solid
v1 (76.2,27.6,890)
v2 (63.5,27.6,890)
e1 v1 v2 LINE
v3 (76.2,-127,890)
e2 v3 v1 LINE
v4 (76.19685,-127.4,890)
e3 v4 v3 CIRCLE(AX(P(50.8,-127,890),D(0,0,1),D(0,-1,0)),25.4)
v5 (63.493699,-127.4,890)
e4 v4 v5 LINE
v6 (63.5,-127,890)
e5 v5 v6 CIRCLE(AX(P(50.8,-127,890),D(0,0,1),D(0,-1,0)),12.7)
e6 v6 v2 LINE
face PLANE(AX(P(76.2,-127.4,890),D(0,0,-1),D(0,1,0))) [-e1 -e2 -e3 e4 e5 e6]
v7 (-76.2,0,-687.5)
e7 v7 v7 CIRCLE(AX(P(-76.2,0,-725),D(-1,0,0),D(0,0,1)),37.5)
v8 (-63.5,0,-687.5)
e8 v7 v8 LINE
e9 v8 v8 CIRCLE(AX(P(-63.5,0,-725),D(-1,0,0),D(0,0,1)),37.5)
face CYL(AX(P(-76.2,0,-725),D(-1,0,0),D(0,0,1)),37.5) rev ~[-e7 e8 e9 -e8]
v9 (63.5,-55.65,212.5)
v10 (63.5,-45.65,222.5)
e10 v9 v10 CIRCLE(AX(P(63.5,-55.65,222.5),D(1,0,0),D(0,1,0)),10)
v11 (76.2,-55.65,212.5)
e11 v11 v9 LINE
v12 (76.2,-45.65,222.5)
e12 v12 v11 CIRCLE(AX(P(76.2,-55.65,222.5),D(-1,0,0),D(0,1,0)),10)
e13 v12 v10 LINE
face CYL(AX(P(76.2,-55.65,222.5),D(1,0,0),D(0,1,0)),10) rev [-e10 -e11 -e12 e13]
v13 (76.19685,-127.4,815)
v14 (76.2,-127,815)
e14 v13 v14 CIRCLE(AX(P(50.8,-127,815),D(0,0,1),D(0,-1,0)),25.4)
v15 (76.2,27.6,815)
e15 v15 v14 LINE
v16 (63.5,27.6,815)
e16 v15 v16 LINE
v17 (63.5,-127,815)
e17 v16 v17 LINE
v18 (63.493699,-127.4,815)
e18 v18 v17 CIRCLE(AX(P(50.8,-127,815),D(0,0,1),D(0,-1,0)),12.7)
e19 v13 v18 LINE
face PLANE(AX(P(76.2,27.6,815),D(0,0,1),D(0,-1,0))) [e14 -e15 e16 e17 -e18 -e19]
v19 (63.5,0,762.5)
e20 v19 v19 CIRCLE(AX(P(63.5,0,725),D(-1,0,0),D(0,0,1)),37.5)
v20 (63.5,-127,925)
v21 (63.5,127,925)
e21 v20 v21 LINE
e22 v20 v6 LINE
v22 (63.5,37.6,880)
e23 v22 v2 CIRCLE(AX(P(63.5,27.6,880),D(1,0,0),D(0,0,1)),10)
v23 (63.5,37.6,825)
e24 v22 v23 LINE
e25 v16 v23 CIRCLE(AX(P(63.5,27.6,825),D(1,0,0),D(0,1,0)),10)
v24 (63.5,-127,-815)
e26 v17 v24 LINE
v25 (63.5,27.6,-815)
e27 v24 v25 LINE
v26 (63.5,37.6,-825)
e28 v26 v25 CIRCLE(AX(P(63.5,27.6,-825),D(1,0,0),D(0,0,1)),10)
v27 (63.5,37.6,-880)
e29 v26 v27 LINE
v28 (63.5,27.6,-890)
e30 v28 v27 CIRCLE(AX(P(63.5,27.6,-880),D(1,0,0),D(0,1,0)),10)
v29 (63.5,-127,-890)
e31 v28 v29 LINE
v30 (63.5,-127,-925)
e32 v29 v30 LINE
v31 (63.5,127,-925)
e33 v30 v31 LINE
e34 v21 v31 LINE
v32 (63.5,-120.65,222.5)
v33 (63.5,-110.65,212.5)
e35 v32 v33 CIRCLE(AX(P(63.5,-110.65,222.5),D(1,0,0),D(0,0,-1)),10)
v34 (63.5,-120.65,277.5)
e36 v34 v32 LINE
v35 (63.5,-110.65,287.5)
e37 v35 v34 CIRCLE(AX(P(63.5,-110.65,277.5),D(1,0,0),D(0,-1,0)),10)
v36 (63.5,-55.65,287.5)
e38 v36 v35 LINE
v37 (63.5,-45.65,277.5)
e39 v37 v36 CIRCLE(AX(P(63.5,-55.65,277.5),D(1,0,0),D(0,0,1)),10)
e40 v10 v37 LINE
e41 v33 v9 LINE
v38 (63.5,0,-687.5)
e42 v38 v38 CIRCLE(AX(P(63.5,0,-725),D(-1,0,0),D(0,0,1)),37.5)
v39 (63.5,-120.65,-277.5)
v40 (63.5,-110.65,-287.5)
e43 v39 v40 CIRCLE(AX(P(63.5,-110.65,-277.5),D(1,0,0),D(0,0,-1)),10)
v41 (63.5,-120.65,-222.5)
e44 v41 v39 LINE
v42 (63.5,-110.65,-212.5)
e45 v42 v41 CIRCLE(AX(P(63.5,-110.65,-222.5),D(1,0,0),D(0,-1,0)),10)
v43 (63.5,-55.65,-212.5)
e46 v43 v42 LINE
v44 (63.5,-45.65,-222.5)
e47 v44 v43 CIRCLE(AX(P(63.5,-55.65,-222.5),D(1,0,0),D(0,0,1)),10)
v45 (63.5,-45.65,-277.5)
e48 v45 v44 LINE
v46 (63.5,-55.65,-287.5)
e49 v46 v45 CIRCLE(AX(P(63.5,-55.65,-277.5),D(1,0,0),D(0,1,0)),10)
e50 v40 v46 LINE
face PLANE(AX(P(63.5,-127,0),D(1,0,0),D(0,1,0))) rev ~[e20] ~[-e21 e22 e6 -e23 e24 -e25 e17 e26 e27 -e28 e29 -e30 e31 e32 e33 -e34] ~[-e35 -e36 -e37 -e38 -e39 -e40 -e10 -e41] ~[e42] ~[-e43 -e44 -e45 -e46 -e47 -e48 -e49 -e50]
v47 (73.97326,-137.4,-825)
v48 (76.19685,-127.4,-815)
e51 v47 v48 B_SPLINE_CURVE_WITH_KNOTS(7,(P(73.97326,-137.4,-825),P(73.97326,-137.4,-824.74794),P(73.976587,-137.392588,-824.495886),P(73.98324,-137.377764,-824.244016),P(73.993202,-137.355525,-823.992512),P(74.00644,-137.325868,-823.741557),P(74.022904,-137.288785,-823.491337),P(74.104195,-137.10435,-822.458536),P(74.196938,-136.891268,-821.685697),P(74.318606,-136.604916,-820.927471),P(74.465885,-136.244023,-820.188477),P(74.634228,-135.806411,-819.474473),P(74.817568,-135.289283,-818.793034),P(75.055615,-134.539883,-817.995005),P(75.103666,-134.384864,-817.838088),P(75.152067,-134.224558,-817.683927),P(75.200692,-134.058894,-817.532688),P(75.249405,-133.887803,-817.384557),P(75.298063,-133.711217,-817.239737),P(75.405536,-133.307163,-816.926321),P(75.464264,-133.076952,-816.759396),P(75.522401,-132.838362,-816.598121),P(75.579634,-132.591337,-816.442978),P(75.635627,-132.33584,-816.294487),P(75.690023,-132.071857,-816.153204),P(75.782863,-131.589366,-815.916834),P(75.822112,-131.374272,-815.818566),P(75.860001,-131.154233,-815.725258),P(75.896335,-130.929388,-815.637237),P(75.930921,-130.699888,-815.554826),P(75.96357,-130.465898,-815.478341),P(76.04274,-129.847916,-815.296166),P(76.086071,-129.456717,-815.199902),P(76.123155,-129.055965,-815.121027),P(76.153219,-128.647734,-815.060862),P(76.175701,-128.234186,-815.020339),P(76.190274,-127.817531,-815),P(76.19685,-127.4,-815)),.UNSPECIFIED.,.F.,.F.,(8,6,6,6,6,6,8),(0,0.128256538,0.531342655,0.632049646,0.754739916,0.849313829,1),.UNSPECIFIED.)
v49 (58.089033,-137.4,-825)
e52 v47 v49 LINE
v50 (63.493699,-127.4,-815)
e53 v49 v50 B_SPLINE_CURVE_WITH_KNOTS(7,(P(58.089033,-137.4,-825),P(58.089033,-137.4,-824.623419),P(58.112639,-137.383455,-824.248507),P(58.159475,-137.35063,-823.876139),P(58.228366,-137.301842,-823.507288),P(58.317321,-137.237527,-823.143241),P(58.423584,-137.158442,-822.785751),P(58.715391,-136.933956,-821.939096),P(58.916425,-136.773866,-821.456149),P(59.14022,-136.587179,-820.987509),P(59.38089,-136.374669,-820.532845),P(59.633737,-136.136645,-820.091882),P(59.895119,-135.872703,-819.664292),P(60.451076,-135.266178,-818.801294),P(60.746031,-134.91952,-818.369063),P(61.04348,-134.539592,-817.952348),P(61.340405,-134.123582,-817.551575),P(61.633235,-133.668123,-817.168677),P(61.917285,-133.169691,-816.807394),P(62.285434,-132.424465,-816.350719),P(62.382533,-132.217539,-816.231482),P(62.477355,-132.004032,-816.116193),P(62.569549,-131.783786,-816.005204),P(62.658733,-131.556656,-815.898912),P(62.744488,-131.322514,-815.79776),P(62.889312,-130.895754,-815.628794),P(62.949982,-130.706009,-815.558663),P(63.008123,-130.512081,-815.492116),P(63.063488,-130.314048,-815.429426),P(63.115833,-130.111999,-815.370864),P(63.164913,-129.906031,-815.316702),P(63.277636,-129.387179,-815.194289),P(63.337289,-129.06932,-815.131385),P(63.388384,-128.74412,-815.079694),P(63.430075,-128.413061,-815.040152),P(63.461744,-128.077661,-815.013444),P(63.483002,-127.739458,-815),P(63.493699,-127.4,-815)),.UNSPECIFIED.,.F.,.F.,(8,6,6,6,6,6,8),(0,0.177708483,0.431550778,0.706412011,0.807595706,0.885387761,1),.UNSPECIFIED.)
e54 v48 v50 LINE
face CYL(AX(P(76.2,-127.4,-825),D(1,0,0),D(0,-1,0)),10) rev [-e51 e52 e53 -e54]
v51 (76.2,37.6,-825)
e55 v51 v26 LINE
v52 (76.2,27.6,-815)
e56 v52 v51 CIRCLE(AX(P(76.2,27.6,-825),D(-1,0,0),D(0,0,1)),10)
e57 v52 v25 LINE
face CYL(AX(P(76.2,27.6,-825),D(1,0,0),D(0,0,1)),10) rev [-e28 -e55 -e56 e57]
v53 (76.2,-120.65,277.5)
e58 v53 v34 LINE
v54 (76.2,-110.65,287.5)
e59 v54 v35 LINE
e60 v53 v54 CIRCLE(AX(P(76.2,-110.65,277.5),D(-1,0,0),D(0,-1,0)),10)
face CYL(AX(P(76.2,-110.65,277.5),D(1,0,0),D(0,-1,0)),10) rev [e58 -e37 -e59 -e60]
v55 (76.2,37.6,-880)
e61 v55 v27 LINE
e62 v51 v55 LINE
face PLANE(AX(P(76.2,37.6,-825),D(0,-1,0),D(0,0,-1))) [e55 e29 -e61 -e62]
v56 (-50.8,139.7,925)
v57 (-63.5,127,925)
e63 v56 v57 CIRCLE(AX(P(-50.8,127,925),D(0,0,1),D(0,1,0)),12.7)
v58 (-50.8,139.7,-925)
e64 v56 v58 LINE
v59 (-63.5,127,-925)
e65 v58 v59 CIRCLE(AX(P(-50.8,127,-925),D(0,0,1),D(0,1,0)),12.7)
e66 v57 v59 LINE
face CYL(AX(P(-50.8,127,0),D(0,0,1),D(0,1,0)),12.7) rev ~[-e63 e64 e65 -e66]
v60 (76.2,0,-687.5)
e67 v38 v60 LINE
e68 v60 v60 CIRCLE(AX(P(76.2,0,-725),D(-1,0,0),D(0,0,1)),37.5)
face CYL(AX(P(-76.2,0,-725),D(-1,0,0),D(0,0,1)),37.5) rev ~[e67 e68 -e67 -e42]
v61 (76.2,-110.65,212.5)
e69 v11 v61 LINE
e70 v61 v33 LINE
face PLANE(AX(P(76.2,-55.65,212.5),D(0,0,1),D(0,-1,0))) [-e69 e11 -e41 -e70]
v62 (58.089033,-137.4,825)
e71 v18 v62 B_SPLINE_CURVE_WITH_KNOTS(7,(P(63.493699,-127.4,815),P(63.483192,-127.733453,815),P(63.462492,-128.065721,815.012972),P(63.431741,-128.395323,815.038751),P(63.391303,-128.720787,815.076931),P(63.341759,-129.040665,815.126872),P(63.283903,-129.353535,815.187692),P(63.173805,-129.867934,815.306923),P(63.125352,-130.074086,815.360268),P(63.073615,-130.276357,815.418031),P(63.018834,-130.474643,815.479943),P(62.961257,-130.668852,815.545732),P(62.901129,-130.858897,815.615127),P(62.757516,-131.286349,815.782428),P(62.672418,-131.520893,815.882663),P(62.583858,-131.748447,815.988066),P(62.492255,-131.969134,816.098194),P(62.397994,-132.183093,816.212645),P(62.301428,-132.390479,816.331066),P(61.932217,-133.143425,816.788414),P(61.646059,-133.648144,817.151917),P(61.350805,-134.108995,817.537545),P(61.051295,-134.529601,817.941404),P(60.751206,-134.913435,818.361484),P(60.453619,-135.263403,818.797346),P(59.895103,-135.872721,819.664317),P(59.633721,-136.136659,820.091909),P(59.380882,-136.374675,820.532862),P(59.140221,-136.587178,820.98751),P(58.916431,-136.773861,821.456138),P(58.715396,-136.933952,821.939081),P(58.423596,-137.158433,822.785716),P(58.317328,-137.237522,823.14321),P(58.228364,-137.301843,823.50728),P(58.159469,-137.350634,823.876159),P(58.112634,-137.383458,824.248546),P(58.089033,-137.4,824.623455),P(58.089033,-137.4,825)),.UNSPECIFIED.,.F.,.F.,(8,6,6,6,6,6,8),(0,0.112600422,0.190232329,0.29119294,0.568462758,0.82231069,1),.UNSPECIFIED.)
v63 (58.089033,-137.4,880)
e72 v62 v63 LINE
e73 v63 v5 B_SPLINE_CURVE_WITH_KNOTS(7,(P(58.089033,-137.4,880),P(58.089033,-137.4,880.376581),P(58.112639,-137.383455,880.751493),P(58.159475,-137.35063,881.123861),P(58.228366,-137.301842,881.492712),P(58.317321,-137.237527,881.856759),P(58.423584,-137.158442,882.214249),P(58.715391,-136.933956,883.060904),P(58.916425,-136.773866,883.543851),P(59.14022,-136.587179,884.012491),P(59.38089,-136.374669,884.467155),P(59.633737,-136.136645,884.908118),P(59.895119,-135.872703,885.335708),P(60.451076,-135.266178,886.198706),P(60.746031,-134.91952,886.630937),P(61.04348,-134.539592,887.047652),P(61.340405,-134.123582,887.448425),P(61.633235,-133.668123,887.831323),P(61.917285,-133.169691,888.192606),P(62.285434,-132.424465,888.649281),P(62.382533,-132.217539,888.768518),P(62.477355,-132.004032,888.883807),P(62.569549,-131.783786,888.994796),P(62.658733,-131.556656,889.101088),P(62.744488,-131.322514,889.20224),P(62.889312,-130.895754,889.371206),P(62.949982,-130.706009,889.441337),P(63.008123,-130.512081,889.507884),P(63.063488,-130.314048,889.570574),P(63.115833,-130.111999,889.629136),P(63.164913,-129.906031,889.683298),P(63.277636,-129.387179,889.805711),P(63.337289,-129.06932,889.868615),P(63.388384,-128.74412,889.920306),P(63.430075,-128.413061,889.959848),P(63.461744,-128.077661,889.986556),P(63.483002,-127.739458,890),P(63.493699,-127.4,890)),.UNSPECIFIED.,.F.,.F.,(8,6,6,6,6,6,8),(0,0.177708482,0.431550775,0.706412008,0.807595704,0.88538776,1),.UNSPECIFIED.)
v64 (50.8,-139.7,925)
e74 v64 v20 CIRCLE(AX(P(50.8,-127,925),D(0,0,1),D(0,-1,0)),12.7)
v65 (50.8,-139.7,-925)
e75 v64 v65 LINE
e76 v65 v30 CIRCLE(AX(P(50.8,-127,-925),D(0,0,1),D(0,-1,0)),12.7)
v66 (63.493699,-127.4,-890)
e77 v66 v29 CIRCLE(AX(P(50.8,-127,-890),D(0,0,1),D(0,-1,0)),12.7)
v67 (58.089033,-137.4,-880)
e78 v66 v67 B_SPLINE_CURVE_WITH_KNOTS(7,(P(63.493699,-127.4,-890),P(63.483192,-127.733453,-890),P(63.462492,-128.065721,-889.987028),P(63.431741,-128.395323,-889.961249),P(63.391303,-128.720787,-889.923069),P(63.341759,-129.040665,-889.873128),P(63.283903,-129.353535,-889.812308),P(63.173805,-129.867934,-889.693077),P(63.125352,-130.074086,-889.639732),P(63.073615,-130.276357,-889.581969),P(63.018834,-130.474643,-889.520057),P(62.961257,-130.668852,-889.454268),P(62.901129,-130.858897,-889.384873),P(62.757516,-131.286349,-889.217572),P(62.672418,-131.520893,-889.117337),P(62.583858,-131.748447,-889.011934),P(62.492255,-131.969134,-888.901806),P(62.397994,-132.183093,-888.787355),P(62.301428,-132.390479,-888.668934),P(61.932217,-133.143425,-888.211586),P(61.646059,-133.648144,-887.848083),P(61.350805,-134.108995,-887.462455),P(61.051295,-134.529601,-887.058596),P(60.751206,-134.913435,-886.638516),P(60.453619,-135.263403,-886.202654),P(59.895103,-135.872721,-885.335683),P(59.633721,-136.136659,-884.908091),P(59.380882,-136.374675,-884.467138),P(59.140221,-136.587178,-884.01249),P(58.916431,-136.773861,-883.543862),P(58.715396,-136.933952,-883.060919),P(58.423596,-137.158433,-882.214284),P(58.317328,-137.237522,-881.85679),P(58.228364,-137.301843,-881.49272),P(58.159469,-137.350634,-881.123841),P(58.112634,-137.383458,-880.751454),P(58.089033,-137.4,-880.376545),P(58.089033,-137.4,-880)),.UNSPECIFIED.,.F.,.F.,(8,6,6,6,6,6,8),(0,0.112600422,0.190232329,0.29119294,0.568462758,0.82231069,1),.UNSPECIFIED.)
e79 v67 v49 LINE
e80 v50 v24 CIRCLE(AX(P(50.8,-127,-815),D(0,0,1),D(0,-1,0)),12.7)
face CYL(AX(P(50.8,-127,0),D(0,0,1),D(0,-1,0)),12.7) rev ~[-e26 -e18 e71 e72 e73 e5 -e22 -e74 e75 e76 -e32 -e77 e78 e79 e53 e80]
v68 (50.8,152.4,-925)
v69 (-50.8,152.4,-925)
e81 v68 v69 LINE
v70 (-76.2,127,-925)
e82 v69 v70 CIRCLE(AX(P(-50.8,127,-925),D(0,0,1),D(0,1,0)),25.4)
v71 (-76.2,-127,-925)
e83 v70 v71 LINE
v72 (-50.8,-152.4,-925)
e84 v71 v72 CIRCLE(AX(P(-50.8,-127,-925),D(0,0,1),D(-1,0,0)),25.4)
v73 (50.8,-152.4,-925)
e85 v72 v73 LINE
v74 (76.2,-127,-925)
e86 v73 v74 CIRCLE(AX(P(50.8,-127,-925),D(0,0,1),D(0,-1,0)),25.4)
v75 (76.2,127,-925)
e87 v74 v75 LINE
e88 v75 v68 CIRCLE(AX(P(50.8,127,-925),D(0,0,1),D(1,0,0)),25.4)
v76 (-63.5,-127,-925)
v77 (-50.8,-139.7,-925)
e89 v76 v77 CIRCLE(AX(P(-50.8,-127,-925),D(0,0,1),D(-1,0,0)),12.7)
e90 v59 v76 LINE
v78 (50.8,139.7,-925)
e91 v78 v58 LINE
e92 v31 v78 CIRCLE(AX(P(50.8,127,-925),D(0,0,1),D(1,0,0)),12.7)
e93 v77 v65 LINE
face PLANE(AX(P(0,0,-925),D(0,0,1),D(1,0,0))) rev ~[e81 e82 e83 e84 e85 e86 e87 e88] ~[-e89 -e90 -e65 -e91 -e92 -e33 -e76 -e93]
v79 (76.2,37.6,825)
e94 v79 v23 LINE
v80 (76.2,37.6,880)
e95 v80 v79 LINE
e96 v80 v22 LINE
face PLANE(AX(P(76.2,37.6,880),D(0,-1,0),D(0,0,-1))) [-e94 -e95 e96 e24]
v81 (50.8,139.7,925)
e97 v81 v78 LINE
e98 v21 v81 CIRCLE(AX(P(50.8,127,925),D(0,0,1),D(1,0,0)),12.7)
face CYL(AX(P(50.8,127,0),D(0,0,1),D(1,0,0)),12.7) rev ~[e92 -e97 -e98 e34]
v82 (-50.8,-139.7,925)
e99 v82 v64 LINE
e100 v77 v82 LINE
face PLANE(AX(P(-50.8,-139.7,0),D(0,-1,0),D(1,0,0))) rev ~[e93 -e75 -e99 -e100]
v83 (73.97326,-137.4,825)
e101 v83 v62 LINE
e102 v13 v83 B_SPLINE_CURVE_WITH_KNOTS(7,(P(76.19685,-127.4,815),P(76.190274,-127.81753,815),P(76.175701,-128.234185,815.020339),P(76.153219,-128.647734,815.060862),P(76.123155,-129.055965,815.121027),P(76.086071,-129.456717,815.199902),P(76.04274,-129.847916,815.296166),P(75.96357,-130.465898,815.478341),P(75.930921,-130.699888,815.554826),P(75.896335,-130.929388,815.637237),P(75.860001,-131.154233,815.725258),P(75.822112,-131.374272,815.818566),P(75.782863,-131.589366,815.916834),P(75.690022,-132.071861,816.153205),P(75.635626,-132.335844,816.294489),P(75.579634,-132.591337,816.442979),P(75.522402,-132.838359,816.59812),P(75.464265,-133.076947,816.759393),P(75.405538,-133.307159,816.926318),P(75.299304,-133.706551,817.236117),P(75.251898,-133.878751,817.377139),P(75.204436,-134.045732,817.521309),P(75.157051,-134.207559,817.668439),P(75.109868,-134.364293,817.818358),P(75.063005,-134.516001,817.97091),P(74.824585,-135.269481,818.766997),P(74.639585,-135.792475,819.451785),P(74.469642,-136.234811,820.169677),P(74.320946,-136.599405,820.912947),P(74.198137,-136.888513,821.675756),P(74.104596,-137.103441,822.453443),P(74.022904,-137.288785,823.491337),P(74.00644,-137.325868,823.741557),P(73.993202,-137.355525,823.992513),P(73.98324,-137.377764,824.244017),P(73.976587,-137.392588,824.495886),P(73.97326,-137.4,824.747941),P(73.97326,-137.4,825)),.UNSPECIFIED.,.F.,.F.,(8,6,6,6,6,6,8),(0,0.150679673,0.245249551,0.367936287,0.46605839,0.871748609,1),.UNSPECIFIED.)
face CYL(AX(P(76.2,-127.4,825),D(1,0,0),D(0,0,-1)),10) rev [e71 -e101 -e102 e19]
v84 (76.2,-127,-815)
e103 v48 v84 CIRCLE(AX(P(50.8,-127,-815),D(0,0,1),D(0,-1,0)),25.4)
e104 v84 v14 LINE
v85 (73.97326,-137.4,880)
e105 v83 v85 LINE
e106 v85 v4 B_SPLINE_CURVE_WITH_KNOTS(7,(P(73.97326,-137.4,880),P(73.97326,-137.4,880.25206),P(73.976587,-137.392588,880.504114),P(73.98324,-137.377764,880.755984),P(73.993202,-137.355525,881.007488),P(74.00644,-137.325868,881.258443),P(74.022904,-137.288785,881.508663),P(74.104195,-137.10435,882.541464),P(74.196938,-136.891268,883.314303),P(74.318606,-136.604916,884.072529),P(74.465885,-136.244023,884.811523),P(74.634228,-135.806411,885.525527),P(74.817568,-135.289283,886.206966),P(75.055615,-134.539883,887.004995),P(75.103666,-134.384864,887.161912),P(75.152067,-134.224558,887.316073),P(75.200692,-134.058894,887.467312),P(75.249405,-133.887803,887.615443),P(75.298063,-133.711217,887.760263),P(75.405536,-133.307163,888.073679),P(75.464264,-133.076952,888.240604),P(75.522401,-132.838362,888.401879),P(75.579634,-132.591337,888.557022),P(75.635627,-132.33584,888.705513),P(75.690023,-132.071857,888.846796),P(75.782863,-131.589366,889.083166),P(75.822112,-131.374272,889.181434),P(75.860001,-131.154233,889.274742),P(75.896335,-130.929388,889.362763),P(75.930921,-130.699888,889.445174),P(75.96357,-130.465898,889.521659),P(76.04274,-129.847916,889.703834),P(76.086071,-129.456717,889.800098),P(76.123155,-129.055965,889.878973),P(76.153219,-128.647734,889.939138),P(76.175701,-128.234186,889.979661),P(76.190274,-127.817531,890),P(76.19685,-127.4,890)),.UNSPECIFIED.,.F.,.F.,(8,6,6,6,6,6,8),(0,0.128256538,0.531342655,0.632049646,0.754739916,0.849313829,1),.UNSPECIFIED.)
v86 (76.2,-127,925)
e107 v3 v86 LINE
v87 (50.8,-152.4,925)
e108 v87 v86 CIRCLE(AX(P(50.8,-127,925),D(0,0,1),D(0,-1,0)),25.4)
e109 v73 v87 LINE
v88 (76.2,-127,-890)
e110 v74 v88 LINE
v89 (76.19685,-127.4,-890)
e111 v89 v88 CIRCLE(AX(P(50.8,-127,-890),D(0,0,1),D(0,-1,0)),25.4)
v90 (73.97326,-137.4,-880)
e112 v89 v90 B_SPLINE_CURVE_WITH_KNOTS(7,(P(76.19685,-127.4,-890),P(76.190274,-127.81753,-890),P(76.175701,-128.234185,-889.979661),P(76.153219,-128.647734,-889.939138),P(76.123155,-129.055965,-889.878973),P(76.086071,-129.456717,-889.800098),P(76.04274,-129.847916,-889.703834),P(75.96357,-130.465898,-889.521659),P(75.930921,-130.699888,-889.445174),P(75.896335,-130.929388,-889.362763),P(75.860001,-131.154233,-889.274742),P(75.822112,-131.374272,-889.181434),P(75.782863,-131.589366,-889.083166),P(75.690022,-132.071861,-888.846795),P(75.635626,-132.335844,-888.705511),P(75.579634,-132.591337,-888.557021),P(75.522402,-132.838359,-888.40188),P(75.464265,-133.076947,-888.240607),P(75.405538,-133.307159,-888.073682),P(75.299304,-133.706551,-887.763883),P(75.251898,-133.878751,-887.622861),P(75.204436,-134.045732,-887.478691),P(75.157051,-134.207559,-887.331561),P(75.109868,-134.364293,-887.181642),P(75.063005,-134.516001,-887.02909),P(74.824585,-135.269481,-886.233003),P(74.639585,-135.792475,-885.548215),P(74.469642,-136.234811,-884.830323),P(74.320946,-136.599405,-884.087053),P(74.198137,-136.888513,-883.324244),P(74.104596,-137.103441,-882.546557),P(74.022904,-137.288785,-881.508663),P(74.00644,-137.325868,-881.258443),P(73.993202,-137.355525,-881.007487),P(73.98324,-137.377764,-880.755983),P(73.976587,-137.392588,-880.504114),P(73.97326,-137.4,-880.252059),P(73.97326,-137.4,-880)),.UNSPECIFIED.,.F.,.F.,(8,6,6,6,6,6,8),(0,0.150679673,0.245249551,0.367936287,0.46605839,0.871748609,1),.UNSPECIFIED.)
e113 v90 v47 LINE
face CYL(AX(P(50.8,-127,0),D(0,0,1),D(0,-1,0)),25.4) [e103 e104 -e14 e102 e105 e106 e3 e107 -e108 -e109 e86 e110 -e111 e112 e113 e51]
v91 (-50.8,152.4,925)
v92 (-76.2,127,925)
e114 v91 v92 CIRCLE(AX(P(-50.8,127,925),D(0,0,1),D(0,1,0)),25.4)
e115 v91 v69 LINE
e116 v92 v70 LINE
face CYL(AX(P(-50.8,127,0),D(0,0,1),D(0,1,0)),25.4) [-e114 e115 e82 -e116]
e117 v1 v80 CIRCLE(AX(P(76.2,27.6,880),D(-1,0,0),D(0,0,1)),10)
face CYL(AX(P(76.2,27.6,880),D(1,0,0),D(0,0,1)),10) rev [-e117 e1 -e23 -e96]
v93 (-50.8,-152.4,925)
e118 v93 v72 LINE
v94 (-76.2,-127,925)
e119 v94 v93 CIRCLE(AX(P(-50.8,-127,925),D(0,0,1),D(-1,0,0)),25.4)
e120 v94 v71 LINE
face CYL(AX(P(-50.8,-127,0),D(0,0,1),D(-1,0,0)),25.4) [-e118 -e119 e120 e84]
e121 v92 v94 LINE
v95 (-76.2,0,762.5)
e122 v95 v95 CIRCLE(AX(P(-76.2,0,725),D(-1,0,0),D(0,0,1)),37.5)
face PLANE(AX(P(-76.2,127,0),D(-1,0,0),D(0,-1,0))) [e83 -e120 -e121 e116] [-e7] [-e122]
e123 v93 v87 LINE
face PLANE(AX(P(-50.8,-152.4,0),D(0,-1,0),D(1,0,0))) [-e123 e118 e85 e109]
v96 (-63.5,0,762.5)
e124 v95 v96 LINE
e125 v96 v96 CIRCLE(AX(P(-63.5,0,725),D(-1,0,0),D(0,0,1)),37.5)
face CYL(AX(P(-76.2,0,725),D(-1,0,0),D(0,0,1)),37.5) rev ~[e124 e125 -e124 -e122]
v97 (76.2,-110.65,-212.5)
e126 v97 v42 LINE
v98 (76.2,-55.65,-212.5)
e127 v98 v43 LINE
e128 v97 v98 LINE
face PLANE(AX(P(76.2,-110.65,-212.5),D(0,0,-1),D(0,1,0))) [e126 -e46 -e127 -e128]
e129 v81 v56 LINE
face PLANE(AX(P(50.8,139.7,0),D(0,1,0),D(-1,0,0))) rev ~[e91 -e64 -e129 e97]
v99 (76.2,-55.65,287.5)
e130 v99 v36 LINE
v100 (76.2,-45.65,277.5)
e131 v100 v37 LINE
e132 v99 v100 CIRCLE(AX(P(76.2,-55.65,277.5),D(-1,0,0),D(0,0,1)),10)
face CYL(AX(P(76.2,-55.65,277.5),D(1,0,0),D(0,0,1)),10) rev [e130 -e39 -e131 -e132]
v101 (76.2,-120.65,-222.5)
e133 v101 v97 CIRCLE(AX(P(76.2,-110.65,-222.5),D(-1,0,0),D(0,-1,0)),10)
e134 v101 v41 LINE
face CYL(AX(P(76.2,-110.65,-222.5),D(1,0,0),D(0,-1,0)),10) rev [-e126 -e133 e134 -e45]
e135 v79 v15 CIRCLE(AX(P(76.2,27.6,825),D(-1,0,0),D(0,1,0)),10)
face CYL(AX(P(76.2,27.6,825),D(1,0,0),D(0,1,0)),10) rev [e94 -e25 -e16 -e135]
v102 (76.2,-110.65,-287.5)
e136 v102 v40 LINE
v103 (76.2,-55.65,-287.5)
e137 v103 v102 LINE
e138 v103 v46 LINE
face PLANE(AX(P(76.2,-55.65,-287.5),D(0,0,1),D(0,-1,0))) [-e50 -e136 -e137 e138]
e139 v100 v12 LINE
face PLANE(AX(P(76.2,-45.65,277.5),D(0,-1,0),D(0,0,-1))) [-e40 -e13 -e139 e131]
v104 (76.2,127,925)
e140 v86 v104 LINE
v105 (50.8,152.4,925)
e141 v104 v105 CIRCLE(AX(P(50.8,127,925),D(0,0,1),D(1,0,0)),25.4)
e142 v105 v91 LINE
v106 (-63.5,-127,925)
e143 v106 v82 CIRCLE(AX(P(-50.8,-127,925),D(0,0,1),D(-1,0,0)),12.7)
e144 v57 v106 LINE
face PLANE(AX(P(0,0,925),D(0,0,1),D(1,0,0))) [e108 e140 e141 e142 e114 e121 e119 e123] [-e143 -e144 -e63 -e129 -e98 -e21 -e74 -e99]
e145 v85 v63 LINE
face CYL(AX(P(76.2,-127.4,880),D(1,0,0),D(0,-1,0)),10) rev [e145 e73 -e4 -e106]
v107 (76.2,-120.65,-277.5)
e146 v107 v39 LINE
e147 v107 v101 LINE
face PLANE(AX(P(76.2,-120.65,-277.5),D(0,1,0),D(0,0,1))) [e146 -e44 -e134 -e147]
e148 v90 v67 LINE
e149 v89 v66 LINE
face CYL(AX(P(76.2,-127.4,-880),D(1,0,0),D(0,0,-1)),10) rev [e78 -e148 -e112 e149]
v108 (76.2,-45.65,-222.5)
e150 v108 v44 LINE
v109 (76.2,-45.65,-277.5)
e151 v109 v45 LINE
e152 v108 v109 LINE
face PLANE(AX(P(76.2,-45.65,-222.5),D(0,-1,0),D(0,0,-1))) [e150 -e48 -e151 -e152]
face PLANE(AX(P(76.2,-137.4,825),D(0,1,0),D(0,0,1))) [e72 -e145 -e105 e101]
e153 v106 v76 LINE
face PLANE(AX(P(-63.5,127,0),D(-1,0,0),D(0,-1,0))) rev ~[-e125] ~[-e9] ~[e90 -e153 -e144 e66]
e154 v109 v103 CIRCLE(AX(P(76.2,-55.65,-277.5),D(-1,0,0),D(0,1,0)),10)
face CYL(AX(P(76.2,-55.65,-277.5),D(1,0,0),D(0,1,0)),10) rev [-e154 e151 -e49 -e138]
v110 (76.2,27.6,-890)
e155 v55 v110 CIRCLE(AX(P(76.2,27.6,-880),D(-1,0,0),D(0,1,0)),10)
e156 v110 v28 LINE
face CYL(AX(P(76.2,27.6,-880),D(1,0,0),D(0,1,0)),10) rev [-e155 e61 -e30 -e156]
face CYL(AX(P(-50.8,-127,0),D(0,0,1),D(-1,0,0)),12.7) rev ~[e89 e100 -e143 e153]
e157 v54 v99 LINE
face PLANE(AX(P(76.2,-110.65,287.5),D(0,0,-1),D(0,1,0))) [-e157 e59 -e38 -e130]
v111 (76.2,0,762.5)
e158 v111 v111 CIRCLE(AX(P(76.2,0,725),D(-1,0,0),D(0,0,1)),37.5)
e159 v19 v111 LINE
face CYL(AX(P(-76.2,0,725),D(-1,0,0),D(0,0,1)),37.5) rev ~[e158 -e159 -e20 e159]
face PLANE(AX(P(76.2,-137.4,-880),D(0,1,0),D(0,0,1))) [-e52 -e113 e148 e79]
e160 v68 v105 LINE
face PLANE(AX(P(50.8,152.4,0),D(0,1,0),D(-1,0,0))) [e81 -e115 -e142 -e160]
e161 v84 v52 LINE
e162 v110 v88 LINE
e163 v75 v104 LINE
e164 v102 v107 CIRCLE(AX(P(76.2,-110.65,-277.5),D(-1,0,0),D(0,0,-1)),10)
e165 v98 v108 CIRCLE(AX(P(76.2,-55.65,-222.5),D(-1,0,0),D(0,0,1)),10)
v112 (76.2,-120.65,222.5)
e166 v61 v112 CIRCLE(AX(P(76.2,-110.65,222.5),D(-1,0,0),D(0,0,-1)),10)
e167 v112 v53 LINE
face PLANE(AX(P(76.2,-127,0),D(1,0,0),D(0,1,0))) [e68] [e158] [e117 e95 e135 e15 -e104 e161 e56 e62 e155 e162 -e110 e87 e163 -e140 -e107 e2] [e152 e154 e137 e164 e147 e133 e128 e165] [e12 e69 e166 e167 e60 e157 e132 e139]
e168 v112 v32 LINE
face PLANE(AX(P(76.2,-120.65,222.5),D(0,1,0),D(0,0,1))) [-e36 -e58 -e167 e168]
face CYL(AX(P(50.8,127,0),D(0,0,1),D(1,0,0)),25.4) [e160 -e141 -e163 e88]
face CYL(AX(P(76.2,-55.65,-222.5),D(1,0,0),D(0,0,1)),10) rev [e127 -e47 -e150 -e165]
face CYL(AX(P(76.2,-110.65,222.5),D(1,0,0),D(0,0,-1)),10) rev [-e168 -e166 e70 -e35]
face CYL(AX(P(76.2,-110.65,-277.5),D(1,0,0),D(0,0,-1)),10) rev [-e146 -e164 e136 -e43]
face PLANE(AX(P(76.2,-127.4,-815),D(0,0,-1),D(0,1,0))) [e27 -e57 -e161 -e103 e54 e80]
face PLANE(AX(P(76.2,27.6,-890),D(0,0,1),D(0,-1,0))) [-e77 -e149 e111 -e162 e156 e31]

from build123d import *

# Parameters (mm, degrees)
BOSS_EXTRUDE1_DEPTH                       = 925
CUT_EXTRUDE1_DEPTH                        = 30
FOR_MACH_SHOP_CONFIRM_W_PROGRAMMING_REACH = 951.777
SKETCH5_R                                 = 37.5
CUT_EXTRUDE3_DEPTH                        = 950.777089767


with BuildPart() as part:
    # Sketch1 → Boss-Extrude1 (new, symmetric)
    with BuildSketch(Plane.XY):
        with BuildLine():
            Line((-50.8, -152.4), (50.8, -152.4))
            ThreePointArc((50.8, -152.4), (68.760512242, -144.960512242), (76.2, -127))
            Line((76.2, -127), (76.2, 127))
            ThreePointArc((76.2, 127), (68.760512242, 144.960512242), (50.8, 152.4))
            Line((50.8, 152.4), (-50.8, 152.4))
            ThreePointArc((-50.8, 152.4), (-68.760512242, 144.960512242), (-76.2, 127))
            Line((-76.2, 127), (-76.2, -127))
            ThreePointArc((-76.2, -127), (-68.760512242, -144.960512242), (-50.8, -152.4))
        make_face()
        with BuildLine():
            Line((-50.8, -139.7), (50.8, -139.7))
            ThreePointArc((50.8, -139.7), (59.780256121, -135.980256121), (63.5, -127))
            Line((63.5, -127), (63.5, 127))
            ThreePointArc((63.5, 127), (59.780256121, 135.980256121), (50.8, 139.7))
            Line((50.8, 139.7), (-50.8, 139.7))
            ThreePointArc((-50.8, 139.7), (-59.780256121, 135.980256121), (-63.5, 127))
            Line((-63.5, 127), (-63.5, -127))
            ThreePointArc((-63.5, -127), (-59.780256121, -135.980256121), (-50.8, -139.7))
        make_face(mode=Mode.SUBTRACT)
    extrude(amount=BOSS_EXTRUDE1_DEPTH, both=True)

    # Sketch2 → Cut-Extrude1 (cut)
    with BuildSketch(Plane(origin=(76.2, 0, 0), x_dir=(0, 0, -1), z_dir=(1, 0, 0))):
        with BuildLine():
            Line((-880, 37.6), (-825, 37.6))
            ThreePointArc((-825, 37.6), (-817.928932188, 34.671067812), (-815, 27.6))
            Line((-815, 27.6), (-815, -127.4))
            ThreePointArc((-815, -127.4), (-817.928932188, -134.471067812), (-825, -137.4))
            Line((-825, -137.4), (-880, -137.4))
            ThreePointArc((-880, -137.4), (-887.071067812, -134.471067812), (-890, -127.4))
            Line((-890, -127.4), (-890, 27.6))
            ThreePointArc((-890, 27.6), (-887.071067812, 34.671067812), (-880, 37.6))
        make_face()
        with BuildLine():
            Line((825, 37.6), (880, 37.6))
            ThreePointArc((880, 37.6), (887.071067812, 34.671067812), (890, 27.6))
            Line((890, 27.6), (890, -127.4))
            ThreePointArc((890, -127.4), (887.071067812, -134.471067812), (880, -137.4))
            Line((880, -137.4), (825, -137.4))
            ThreePointArc((825, -137.4), (817.928932188, -134.471067812), (815, -127.4))
            Line((815, -127.4), (815, 27.6))
            ThreePointArc((815, 27.6), (817.928932188, 34.671067812), (825, 37.6))
        make_face()
    extrude(amount=-CUT_EXTRUDE1_DEPTH, mode=Mode.SUBTRACT)

    # Sketch3 → for mach shop confirm w/ programming (cut, up to next)
    with BuildSketch(Plane(origin=(76.2, 0, 0), x_dir=(0, 0, -1), z_dir=(1, 0, 0)), mode=Mode.PRIVATE) as for_mach_shop_confirm_w_programming_sk1:
        with BuildLine():
            Line((-277.5, -45.65), (-222.5, -45.65))
            ThreePointArc((-222.5, -45.65), (-215.428932188, -48.578932188), (-212.5, -55.65))
            Line((-212.5, -55.65), (-212.5, -110.65))
            ThreePointArc((-212.5, -110.65), (-215.428932188, -117.721067812), (-222.5, -120.65))
            Line((-222.5, -120.65), (-277.5, -120.65))
            ThreePointArc((-277.5, -120.65), (-284.571067812, -117.721067812), (-287.5, -110.65))
            Line((-287.5, -110.65), (-287.5, -55.65))
            ThreePointArc((-287.5, -55.65), (-284.571067812, -48.578932188), (-277.5, -45.65))
        make_face()
    for_mach_shop_confirm_w_programming_tool1 = extrude(for_mach_shop_confirm_w_programming_sk1.sketch, amount=-FOR_MACH_SHOP_CONFIRM_W_PROGRAMMING_REACH, mode=Mode.PRIVATE) & part.part
    # Sketch3 → for mach shop confirm w/ programming (cut, up to next)
    with BuildSketch(Plane(origin=(76.2, 0, 0), x_dir=(0, 0, -1), z_dir=(1, 0, 0)), mode=Mode.PRIVATE) as for_mach_shop_confirm_w_programming_sk2:
        with BuildLine():
            Line((222.5, -45.65), (277.5, -45.65))
            ThreePointArc((277.5, -45.65), (284.571067812, -48.578932188), (287.5, -55.65))
            Line((287.5, -55.65), (287.5, -110.65))
            ThreePointArc((287.5, -110.65), (284.571067812, -117.721067812), (277.5, -120.65))
            Line((277.5, -120.65), (222.5, -120.65))
            ThreePointArc((222.5, -120.65), (215.428932188, -117.721067812), (212.5, -110.65))
            Line((212.5, -110.65), (212.5, -55.65))
            ThreePointArc((212.5, -55.65), (215.428932188, -48.578932188), (222.5, -45.65))
        make_face()
    for_mach_shop_confirm_w_programming_tool2 = extrude(for_mach_shop_confirm_w_programming_sk2.sketch, amount=-FOR_MACH_SHOP_CONFIRM_W_PROGRAMMING_REACH, mode=Mode.PRIVATE) & part.part
    add(for_mach_shop_confirm_w_programming_tool1.solids().sort_by_distance((76.2, -83.15, 250))[0], mode=Mode.SUBTRACT)
    add(for_mach_shop_confirm_w_programming_tool2.solids().sort_by_distance((76.2, -83.15, -250))[0], mode=Mode.SUBTRACT)

    # Sketch5 → Cut-Extrude3 (cut, through all)
    with BuildSketch(Plane.ZY.offset(76.2)):
        with Locations((725, 0)):
            Circle(SKETCH5_R)
        with Locations((-725, 0)):
            Circle(SKETCH5_R)
    extrude(amount=-CUT_EXTRUDE3_DEPTH, mode=Mode.SUBTRACT)


solid = part.part
